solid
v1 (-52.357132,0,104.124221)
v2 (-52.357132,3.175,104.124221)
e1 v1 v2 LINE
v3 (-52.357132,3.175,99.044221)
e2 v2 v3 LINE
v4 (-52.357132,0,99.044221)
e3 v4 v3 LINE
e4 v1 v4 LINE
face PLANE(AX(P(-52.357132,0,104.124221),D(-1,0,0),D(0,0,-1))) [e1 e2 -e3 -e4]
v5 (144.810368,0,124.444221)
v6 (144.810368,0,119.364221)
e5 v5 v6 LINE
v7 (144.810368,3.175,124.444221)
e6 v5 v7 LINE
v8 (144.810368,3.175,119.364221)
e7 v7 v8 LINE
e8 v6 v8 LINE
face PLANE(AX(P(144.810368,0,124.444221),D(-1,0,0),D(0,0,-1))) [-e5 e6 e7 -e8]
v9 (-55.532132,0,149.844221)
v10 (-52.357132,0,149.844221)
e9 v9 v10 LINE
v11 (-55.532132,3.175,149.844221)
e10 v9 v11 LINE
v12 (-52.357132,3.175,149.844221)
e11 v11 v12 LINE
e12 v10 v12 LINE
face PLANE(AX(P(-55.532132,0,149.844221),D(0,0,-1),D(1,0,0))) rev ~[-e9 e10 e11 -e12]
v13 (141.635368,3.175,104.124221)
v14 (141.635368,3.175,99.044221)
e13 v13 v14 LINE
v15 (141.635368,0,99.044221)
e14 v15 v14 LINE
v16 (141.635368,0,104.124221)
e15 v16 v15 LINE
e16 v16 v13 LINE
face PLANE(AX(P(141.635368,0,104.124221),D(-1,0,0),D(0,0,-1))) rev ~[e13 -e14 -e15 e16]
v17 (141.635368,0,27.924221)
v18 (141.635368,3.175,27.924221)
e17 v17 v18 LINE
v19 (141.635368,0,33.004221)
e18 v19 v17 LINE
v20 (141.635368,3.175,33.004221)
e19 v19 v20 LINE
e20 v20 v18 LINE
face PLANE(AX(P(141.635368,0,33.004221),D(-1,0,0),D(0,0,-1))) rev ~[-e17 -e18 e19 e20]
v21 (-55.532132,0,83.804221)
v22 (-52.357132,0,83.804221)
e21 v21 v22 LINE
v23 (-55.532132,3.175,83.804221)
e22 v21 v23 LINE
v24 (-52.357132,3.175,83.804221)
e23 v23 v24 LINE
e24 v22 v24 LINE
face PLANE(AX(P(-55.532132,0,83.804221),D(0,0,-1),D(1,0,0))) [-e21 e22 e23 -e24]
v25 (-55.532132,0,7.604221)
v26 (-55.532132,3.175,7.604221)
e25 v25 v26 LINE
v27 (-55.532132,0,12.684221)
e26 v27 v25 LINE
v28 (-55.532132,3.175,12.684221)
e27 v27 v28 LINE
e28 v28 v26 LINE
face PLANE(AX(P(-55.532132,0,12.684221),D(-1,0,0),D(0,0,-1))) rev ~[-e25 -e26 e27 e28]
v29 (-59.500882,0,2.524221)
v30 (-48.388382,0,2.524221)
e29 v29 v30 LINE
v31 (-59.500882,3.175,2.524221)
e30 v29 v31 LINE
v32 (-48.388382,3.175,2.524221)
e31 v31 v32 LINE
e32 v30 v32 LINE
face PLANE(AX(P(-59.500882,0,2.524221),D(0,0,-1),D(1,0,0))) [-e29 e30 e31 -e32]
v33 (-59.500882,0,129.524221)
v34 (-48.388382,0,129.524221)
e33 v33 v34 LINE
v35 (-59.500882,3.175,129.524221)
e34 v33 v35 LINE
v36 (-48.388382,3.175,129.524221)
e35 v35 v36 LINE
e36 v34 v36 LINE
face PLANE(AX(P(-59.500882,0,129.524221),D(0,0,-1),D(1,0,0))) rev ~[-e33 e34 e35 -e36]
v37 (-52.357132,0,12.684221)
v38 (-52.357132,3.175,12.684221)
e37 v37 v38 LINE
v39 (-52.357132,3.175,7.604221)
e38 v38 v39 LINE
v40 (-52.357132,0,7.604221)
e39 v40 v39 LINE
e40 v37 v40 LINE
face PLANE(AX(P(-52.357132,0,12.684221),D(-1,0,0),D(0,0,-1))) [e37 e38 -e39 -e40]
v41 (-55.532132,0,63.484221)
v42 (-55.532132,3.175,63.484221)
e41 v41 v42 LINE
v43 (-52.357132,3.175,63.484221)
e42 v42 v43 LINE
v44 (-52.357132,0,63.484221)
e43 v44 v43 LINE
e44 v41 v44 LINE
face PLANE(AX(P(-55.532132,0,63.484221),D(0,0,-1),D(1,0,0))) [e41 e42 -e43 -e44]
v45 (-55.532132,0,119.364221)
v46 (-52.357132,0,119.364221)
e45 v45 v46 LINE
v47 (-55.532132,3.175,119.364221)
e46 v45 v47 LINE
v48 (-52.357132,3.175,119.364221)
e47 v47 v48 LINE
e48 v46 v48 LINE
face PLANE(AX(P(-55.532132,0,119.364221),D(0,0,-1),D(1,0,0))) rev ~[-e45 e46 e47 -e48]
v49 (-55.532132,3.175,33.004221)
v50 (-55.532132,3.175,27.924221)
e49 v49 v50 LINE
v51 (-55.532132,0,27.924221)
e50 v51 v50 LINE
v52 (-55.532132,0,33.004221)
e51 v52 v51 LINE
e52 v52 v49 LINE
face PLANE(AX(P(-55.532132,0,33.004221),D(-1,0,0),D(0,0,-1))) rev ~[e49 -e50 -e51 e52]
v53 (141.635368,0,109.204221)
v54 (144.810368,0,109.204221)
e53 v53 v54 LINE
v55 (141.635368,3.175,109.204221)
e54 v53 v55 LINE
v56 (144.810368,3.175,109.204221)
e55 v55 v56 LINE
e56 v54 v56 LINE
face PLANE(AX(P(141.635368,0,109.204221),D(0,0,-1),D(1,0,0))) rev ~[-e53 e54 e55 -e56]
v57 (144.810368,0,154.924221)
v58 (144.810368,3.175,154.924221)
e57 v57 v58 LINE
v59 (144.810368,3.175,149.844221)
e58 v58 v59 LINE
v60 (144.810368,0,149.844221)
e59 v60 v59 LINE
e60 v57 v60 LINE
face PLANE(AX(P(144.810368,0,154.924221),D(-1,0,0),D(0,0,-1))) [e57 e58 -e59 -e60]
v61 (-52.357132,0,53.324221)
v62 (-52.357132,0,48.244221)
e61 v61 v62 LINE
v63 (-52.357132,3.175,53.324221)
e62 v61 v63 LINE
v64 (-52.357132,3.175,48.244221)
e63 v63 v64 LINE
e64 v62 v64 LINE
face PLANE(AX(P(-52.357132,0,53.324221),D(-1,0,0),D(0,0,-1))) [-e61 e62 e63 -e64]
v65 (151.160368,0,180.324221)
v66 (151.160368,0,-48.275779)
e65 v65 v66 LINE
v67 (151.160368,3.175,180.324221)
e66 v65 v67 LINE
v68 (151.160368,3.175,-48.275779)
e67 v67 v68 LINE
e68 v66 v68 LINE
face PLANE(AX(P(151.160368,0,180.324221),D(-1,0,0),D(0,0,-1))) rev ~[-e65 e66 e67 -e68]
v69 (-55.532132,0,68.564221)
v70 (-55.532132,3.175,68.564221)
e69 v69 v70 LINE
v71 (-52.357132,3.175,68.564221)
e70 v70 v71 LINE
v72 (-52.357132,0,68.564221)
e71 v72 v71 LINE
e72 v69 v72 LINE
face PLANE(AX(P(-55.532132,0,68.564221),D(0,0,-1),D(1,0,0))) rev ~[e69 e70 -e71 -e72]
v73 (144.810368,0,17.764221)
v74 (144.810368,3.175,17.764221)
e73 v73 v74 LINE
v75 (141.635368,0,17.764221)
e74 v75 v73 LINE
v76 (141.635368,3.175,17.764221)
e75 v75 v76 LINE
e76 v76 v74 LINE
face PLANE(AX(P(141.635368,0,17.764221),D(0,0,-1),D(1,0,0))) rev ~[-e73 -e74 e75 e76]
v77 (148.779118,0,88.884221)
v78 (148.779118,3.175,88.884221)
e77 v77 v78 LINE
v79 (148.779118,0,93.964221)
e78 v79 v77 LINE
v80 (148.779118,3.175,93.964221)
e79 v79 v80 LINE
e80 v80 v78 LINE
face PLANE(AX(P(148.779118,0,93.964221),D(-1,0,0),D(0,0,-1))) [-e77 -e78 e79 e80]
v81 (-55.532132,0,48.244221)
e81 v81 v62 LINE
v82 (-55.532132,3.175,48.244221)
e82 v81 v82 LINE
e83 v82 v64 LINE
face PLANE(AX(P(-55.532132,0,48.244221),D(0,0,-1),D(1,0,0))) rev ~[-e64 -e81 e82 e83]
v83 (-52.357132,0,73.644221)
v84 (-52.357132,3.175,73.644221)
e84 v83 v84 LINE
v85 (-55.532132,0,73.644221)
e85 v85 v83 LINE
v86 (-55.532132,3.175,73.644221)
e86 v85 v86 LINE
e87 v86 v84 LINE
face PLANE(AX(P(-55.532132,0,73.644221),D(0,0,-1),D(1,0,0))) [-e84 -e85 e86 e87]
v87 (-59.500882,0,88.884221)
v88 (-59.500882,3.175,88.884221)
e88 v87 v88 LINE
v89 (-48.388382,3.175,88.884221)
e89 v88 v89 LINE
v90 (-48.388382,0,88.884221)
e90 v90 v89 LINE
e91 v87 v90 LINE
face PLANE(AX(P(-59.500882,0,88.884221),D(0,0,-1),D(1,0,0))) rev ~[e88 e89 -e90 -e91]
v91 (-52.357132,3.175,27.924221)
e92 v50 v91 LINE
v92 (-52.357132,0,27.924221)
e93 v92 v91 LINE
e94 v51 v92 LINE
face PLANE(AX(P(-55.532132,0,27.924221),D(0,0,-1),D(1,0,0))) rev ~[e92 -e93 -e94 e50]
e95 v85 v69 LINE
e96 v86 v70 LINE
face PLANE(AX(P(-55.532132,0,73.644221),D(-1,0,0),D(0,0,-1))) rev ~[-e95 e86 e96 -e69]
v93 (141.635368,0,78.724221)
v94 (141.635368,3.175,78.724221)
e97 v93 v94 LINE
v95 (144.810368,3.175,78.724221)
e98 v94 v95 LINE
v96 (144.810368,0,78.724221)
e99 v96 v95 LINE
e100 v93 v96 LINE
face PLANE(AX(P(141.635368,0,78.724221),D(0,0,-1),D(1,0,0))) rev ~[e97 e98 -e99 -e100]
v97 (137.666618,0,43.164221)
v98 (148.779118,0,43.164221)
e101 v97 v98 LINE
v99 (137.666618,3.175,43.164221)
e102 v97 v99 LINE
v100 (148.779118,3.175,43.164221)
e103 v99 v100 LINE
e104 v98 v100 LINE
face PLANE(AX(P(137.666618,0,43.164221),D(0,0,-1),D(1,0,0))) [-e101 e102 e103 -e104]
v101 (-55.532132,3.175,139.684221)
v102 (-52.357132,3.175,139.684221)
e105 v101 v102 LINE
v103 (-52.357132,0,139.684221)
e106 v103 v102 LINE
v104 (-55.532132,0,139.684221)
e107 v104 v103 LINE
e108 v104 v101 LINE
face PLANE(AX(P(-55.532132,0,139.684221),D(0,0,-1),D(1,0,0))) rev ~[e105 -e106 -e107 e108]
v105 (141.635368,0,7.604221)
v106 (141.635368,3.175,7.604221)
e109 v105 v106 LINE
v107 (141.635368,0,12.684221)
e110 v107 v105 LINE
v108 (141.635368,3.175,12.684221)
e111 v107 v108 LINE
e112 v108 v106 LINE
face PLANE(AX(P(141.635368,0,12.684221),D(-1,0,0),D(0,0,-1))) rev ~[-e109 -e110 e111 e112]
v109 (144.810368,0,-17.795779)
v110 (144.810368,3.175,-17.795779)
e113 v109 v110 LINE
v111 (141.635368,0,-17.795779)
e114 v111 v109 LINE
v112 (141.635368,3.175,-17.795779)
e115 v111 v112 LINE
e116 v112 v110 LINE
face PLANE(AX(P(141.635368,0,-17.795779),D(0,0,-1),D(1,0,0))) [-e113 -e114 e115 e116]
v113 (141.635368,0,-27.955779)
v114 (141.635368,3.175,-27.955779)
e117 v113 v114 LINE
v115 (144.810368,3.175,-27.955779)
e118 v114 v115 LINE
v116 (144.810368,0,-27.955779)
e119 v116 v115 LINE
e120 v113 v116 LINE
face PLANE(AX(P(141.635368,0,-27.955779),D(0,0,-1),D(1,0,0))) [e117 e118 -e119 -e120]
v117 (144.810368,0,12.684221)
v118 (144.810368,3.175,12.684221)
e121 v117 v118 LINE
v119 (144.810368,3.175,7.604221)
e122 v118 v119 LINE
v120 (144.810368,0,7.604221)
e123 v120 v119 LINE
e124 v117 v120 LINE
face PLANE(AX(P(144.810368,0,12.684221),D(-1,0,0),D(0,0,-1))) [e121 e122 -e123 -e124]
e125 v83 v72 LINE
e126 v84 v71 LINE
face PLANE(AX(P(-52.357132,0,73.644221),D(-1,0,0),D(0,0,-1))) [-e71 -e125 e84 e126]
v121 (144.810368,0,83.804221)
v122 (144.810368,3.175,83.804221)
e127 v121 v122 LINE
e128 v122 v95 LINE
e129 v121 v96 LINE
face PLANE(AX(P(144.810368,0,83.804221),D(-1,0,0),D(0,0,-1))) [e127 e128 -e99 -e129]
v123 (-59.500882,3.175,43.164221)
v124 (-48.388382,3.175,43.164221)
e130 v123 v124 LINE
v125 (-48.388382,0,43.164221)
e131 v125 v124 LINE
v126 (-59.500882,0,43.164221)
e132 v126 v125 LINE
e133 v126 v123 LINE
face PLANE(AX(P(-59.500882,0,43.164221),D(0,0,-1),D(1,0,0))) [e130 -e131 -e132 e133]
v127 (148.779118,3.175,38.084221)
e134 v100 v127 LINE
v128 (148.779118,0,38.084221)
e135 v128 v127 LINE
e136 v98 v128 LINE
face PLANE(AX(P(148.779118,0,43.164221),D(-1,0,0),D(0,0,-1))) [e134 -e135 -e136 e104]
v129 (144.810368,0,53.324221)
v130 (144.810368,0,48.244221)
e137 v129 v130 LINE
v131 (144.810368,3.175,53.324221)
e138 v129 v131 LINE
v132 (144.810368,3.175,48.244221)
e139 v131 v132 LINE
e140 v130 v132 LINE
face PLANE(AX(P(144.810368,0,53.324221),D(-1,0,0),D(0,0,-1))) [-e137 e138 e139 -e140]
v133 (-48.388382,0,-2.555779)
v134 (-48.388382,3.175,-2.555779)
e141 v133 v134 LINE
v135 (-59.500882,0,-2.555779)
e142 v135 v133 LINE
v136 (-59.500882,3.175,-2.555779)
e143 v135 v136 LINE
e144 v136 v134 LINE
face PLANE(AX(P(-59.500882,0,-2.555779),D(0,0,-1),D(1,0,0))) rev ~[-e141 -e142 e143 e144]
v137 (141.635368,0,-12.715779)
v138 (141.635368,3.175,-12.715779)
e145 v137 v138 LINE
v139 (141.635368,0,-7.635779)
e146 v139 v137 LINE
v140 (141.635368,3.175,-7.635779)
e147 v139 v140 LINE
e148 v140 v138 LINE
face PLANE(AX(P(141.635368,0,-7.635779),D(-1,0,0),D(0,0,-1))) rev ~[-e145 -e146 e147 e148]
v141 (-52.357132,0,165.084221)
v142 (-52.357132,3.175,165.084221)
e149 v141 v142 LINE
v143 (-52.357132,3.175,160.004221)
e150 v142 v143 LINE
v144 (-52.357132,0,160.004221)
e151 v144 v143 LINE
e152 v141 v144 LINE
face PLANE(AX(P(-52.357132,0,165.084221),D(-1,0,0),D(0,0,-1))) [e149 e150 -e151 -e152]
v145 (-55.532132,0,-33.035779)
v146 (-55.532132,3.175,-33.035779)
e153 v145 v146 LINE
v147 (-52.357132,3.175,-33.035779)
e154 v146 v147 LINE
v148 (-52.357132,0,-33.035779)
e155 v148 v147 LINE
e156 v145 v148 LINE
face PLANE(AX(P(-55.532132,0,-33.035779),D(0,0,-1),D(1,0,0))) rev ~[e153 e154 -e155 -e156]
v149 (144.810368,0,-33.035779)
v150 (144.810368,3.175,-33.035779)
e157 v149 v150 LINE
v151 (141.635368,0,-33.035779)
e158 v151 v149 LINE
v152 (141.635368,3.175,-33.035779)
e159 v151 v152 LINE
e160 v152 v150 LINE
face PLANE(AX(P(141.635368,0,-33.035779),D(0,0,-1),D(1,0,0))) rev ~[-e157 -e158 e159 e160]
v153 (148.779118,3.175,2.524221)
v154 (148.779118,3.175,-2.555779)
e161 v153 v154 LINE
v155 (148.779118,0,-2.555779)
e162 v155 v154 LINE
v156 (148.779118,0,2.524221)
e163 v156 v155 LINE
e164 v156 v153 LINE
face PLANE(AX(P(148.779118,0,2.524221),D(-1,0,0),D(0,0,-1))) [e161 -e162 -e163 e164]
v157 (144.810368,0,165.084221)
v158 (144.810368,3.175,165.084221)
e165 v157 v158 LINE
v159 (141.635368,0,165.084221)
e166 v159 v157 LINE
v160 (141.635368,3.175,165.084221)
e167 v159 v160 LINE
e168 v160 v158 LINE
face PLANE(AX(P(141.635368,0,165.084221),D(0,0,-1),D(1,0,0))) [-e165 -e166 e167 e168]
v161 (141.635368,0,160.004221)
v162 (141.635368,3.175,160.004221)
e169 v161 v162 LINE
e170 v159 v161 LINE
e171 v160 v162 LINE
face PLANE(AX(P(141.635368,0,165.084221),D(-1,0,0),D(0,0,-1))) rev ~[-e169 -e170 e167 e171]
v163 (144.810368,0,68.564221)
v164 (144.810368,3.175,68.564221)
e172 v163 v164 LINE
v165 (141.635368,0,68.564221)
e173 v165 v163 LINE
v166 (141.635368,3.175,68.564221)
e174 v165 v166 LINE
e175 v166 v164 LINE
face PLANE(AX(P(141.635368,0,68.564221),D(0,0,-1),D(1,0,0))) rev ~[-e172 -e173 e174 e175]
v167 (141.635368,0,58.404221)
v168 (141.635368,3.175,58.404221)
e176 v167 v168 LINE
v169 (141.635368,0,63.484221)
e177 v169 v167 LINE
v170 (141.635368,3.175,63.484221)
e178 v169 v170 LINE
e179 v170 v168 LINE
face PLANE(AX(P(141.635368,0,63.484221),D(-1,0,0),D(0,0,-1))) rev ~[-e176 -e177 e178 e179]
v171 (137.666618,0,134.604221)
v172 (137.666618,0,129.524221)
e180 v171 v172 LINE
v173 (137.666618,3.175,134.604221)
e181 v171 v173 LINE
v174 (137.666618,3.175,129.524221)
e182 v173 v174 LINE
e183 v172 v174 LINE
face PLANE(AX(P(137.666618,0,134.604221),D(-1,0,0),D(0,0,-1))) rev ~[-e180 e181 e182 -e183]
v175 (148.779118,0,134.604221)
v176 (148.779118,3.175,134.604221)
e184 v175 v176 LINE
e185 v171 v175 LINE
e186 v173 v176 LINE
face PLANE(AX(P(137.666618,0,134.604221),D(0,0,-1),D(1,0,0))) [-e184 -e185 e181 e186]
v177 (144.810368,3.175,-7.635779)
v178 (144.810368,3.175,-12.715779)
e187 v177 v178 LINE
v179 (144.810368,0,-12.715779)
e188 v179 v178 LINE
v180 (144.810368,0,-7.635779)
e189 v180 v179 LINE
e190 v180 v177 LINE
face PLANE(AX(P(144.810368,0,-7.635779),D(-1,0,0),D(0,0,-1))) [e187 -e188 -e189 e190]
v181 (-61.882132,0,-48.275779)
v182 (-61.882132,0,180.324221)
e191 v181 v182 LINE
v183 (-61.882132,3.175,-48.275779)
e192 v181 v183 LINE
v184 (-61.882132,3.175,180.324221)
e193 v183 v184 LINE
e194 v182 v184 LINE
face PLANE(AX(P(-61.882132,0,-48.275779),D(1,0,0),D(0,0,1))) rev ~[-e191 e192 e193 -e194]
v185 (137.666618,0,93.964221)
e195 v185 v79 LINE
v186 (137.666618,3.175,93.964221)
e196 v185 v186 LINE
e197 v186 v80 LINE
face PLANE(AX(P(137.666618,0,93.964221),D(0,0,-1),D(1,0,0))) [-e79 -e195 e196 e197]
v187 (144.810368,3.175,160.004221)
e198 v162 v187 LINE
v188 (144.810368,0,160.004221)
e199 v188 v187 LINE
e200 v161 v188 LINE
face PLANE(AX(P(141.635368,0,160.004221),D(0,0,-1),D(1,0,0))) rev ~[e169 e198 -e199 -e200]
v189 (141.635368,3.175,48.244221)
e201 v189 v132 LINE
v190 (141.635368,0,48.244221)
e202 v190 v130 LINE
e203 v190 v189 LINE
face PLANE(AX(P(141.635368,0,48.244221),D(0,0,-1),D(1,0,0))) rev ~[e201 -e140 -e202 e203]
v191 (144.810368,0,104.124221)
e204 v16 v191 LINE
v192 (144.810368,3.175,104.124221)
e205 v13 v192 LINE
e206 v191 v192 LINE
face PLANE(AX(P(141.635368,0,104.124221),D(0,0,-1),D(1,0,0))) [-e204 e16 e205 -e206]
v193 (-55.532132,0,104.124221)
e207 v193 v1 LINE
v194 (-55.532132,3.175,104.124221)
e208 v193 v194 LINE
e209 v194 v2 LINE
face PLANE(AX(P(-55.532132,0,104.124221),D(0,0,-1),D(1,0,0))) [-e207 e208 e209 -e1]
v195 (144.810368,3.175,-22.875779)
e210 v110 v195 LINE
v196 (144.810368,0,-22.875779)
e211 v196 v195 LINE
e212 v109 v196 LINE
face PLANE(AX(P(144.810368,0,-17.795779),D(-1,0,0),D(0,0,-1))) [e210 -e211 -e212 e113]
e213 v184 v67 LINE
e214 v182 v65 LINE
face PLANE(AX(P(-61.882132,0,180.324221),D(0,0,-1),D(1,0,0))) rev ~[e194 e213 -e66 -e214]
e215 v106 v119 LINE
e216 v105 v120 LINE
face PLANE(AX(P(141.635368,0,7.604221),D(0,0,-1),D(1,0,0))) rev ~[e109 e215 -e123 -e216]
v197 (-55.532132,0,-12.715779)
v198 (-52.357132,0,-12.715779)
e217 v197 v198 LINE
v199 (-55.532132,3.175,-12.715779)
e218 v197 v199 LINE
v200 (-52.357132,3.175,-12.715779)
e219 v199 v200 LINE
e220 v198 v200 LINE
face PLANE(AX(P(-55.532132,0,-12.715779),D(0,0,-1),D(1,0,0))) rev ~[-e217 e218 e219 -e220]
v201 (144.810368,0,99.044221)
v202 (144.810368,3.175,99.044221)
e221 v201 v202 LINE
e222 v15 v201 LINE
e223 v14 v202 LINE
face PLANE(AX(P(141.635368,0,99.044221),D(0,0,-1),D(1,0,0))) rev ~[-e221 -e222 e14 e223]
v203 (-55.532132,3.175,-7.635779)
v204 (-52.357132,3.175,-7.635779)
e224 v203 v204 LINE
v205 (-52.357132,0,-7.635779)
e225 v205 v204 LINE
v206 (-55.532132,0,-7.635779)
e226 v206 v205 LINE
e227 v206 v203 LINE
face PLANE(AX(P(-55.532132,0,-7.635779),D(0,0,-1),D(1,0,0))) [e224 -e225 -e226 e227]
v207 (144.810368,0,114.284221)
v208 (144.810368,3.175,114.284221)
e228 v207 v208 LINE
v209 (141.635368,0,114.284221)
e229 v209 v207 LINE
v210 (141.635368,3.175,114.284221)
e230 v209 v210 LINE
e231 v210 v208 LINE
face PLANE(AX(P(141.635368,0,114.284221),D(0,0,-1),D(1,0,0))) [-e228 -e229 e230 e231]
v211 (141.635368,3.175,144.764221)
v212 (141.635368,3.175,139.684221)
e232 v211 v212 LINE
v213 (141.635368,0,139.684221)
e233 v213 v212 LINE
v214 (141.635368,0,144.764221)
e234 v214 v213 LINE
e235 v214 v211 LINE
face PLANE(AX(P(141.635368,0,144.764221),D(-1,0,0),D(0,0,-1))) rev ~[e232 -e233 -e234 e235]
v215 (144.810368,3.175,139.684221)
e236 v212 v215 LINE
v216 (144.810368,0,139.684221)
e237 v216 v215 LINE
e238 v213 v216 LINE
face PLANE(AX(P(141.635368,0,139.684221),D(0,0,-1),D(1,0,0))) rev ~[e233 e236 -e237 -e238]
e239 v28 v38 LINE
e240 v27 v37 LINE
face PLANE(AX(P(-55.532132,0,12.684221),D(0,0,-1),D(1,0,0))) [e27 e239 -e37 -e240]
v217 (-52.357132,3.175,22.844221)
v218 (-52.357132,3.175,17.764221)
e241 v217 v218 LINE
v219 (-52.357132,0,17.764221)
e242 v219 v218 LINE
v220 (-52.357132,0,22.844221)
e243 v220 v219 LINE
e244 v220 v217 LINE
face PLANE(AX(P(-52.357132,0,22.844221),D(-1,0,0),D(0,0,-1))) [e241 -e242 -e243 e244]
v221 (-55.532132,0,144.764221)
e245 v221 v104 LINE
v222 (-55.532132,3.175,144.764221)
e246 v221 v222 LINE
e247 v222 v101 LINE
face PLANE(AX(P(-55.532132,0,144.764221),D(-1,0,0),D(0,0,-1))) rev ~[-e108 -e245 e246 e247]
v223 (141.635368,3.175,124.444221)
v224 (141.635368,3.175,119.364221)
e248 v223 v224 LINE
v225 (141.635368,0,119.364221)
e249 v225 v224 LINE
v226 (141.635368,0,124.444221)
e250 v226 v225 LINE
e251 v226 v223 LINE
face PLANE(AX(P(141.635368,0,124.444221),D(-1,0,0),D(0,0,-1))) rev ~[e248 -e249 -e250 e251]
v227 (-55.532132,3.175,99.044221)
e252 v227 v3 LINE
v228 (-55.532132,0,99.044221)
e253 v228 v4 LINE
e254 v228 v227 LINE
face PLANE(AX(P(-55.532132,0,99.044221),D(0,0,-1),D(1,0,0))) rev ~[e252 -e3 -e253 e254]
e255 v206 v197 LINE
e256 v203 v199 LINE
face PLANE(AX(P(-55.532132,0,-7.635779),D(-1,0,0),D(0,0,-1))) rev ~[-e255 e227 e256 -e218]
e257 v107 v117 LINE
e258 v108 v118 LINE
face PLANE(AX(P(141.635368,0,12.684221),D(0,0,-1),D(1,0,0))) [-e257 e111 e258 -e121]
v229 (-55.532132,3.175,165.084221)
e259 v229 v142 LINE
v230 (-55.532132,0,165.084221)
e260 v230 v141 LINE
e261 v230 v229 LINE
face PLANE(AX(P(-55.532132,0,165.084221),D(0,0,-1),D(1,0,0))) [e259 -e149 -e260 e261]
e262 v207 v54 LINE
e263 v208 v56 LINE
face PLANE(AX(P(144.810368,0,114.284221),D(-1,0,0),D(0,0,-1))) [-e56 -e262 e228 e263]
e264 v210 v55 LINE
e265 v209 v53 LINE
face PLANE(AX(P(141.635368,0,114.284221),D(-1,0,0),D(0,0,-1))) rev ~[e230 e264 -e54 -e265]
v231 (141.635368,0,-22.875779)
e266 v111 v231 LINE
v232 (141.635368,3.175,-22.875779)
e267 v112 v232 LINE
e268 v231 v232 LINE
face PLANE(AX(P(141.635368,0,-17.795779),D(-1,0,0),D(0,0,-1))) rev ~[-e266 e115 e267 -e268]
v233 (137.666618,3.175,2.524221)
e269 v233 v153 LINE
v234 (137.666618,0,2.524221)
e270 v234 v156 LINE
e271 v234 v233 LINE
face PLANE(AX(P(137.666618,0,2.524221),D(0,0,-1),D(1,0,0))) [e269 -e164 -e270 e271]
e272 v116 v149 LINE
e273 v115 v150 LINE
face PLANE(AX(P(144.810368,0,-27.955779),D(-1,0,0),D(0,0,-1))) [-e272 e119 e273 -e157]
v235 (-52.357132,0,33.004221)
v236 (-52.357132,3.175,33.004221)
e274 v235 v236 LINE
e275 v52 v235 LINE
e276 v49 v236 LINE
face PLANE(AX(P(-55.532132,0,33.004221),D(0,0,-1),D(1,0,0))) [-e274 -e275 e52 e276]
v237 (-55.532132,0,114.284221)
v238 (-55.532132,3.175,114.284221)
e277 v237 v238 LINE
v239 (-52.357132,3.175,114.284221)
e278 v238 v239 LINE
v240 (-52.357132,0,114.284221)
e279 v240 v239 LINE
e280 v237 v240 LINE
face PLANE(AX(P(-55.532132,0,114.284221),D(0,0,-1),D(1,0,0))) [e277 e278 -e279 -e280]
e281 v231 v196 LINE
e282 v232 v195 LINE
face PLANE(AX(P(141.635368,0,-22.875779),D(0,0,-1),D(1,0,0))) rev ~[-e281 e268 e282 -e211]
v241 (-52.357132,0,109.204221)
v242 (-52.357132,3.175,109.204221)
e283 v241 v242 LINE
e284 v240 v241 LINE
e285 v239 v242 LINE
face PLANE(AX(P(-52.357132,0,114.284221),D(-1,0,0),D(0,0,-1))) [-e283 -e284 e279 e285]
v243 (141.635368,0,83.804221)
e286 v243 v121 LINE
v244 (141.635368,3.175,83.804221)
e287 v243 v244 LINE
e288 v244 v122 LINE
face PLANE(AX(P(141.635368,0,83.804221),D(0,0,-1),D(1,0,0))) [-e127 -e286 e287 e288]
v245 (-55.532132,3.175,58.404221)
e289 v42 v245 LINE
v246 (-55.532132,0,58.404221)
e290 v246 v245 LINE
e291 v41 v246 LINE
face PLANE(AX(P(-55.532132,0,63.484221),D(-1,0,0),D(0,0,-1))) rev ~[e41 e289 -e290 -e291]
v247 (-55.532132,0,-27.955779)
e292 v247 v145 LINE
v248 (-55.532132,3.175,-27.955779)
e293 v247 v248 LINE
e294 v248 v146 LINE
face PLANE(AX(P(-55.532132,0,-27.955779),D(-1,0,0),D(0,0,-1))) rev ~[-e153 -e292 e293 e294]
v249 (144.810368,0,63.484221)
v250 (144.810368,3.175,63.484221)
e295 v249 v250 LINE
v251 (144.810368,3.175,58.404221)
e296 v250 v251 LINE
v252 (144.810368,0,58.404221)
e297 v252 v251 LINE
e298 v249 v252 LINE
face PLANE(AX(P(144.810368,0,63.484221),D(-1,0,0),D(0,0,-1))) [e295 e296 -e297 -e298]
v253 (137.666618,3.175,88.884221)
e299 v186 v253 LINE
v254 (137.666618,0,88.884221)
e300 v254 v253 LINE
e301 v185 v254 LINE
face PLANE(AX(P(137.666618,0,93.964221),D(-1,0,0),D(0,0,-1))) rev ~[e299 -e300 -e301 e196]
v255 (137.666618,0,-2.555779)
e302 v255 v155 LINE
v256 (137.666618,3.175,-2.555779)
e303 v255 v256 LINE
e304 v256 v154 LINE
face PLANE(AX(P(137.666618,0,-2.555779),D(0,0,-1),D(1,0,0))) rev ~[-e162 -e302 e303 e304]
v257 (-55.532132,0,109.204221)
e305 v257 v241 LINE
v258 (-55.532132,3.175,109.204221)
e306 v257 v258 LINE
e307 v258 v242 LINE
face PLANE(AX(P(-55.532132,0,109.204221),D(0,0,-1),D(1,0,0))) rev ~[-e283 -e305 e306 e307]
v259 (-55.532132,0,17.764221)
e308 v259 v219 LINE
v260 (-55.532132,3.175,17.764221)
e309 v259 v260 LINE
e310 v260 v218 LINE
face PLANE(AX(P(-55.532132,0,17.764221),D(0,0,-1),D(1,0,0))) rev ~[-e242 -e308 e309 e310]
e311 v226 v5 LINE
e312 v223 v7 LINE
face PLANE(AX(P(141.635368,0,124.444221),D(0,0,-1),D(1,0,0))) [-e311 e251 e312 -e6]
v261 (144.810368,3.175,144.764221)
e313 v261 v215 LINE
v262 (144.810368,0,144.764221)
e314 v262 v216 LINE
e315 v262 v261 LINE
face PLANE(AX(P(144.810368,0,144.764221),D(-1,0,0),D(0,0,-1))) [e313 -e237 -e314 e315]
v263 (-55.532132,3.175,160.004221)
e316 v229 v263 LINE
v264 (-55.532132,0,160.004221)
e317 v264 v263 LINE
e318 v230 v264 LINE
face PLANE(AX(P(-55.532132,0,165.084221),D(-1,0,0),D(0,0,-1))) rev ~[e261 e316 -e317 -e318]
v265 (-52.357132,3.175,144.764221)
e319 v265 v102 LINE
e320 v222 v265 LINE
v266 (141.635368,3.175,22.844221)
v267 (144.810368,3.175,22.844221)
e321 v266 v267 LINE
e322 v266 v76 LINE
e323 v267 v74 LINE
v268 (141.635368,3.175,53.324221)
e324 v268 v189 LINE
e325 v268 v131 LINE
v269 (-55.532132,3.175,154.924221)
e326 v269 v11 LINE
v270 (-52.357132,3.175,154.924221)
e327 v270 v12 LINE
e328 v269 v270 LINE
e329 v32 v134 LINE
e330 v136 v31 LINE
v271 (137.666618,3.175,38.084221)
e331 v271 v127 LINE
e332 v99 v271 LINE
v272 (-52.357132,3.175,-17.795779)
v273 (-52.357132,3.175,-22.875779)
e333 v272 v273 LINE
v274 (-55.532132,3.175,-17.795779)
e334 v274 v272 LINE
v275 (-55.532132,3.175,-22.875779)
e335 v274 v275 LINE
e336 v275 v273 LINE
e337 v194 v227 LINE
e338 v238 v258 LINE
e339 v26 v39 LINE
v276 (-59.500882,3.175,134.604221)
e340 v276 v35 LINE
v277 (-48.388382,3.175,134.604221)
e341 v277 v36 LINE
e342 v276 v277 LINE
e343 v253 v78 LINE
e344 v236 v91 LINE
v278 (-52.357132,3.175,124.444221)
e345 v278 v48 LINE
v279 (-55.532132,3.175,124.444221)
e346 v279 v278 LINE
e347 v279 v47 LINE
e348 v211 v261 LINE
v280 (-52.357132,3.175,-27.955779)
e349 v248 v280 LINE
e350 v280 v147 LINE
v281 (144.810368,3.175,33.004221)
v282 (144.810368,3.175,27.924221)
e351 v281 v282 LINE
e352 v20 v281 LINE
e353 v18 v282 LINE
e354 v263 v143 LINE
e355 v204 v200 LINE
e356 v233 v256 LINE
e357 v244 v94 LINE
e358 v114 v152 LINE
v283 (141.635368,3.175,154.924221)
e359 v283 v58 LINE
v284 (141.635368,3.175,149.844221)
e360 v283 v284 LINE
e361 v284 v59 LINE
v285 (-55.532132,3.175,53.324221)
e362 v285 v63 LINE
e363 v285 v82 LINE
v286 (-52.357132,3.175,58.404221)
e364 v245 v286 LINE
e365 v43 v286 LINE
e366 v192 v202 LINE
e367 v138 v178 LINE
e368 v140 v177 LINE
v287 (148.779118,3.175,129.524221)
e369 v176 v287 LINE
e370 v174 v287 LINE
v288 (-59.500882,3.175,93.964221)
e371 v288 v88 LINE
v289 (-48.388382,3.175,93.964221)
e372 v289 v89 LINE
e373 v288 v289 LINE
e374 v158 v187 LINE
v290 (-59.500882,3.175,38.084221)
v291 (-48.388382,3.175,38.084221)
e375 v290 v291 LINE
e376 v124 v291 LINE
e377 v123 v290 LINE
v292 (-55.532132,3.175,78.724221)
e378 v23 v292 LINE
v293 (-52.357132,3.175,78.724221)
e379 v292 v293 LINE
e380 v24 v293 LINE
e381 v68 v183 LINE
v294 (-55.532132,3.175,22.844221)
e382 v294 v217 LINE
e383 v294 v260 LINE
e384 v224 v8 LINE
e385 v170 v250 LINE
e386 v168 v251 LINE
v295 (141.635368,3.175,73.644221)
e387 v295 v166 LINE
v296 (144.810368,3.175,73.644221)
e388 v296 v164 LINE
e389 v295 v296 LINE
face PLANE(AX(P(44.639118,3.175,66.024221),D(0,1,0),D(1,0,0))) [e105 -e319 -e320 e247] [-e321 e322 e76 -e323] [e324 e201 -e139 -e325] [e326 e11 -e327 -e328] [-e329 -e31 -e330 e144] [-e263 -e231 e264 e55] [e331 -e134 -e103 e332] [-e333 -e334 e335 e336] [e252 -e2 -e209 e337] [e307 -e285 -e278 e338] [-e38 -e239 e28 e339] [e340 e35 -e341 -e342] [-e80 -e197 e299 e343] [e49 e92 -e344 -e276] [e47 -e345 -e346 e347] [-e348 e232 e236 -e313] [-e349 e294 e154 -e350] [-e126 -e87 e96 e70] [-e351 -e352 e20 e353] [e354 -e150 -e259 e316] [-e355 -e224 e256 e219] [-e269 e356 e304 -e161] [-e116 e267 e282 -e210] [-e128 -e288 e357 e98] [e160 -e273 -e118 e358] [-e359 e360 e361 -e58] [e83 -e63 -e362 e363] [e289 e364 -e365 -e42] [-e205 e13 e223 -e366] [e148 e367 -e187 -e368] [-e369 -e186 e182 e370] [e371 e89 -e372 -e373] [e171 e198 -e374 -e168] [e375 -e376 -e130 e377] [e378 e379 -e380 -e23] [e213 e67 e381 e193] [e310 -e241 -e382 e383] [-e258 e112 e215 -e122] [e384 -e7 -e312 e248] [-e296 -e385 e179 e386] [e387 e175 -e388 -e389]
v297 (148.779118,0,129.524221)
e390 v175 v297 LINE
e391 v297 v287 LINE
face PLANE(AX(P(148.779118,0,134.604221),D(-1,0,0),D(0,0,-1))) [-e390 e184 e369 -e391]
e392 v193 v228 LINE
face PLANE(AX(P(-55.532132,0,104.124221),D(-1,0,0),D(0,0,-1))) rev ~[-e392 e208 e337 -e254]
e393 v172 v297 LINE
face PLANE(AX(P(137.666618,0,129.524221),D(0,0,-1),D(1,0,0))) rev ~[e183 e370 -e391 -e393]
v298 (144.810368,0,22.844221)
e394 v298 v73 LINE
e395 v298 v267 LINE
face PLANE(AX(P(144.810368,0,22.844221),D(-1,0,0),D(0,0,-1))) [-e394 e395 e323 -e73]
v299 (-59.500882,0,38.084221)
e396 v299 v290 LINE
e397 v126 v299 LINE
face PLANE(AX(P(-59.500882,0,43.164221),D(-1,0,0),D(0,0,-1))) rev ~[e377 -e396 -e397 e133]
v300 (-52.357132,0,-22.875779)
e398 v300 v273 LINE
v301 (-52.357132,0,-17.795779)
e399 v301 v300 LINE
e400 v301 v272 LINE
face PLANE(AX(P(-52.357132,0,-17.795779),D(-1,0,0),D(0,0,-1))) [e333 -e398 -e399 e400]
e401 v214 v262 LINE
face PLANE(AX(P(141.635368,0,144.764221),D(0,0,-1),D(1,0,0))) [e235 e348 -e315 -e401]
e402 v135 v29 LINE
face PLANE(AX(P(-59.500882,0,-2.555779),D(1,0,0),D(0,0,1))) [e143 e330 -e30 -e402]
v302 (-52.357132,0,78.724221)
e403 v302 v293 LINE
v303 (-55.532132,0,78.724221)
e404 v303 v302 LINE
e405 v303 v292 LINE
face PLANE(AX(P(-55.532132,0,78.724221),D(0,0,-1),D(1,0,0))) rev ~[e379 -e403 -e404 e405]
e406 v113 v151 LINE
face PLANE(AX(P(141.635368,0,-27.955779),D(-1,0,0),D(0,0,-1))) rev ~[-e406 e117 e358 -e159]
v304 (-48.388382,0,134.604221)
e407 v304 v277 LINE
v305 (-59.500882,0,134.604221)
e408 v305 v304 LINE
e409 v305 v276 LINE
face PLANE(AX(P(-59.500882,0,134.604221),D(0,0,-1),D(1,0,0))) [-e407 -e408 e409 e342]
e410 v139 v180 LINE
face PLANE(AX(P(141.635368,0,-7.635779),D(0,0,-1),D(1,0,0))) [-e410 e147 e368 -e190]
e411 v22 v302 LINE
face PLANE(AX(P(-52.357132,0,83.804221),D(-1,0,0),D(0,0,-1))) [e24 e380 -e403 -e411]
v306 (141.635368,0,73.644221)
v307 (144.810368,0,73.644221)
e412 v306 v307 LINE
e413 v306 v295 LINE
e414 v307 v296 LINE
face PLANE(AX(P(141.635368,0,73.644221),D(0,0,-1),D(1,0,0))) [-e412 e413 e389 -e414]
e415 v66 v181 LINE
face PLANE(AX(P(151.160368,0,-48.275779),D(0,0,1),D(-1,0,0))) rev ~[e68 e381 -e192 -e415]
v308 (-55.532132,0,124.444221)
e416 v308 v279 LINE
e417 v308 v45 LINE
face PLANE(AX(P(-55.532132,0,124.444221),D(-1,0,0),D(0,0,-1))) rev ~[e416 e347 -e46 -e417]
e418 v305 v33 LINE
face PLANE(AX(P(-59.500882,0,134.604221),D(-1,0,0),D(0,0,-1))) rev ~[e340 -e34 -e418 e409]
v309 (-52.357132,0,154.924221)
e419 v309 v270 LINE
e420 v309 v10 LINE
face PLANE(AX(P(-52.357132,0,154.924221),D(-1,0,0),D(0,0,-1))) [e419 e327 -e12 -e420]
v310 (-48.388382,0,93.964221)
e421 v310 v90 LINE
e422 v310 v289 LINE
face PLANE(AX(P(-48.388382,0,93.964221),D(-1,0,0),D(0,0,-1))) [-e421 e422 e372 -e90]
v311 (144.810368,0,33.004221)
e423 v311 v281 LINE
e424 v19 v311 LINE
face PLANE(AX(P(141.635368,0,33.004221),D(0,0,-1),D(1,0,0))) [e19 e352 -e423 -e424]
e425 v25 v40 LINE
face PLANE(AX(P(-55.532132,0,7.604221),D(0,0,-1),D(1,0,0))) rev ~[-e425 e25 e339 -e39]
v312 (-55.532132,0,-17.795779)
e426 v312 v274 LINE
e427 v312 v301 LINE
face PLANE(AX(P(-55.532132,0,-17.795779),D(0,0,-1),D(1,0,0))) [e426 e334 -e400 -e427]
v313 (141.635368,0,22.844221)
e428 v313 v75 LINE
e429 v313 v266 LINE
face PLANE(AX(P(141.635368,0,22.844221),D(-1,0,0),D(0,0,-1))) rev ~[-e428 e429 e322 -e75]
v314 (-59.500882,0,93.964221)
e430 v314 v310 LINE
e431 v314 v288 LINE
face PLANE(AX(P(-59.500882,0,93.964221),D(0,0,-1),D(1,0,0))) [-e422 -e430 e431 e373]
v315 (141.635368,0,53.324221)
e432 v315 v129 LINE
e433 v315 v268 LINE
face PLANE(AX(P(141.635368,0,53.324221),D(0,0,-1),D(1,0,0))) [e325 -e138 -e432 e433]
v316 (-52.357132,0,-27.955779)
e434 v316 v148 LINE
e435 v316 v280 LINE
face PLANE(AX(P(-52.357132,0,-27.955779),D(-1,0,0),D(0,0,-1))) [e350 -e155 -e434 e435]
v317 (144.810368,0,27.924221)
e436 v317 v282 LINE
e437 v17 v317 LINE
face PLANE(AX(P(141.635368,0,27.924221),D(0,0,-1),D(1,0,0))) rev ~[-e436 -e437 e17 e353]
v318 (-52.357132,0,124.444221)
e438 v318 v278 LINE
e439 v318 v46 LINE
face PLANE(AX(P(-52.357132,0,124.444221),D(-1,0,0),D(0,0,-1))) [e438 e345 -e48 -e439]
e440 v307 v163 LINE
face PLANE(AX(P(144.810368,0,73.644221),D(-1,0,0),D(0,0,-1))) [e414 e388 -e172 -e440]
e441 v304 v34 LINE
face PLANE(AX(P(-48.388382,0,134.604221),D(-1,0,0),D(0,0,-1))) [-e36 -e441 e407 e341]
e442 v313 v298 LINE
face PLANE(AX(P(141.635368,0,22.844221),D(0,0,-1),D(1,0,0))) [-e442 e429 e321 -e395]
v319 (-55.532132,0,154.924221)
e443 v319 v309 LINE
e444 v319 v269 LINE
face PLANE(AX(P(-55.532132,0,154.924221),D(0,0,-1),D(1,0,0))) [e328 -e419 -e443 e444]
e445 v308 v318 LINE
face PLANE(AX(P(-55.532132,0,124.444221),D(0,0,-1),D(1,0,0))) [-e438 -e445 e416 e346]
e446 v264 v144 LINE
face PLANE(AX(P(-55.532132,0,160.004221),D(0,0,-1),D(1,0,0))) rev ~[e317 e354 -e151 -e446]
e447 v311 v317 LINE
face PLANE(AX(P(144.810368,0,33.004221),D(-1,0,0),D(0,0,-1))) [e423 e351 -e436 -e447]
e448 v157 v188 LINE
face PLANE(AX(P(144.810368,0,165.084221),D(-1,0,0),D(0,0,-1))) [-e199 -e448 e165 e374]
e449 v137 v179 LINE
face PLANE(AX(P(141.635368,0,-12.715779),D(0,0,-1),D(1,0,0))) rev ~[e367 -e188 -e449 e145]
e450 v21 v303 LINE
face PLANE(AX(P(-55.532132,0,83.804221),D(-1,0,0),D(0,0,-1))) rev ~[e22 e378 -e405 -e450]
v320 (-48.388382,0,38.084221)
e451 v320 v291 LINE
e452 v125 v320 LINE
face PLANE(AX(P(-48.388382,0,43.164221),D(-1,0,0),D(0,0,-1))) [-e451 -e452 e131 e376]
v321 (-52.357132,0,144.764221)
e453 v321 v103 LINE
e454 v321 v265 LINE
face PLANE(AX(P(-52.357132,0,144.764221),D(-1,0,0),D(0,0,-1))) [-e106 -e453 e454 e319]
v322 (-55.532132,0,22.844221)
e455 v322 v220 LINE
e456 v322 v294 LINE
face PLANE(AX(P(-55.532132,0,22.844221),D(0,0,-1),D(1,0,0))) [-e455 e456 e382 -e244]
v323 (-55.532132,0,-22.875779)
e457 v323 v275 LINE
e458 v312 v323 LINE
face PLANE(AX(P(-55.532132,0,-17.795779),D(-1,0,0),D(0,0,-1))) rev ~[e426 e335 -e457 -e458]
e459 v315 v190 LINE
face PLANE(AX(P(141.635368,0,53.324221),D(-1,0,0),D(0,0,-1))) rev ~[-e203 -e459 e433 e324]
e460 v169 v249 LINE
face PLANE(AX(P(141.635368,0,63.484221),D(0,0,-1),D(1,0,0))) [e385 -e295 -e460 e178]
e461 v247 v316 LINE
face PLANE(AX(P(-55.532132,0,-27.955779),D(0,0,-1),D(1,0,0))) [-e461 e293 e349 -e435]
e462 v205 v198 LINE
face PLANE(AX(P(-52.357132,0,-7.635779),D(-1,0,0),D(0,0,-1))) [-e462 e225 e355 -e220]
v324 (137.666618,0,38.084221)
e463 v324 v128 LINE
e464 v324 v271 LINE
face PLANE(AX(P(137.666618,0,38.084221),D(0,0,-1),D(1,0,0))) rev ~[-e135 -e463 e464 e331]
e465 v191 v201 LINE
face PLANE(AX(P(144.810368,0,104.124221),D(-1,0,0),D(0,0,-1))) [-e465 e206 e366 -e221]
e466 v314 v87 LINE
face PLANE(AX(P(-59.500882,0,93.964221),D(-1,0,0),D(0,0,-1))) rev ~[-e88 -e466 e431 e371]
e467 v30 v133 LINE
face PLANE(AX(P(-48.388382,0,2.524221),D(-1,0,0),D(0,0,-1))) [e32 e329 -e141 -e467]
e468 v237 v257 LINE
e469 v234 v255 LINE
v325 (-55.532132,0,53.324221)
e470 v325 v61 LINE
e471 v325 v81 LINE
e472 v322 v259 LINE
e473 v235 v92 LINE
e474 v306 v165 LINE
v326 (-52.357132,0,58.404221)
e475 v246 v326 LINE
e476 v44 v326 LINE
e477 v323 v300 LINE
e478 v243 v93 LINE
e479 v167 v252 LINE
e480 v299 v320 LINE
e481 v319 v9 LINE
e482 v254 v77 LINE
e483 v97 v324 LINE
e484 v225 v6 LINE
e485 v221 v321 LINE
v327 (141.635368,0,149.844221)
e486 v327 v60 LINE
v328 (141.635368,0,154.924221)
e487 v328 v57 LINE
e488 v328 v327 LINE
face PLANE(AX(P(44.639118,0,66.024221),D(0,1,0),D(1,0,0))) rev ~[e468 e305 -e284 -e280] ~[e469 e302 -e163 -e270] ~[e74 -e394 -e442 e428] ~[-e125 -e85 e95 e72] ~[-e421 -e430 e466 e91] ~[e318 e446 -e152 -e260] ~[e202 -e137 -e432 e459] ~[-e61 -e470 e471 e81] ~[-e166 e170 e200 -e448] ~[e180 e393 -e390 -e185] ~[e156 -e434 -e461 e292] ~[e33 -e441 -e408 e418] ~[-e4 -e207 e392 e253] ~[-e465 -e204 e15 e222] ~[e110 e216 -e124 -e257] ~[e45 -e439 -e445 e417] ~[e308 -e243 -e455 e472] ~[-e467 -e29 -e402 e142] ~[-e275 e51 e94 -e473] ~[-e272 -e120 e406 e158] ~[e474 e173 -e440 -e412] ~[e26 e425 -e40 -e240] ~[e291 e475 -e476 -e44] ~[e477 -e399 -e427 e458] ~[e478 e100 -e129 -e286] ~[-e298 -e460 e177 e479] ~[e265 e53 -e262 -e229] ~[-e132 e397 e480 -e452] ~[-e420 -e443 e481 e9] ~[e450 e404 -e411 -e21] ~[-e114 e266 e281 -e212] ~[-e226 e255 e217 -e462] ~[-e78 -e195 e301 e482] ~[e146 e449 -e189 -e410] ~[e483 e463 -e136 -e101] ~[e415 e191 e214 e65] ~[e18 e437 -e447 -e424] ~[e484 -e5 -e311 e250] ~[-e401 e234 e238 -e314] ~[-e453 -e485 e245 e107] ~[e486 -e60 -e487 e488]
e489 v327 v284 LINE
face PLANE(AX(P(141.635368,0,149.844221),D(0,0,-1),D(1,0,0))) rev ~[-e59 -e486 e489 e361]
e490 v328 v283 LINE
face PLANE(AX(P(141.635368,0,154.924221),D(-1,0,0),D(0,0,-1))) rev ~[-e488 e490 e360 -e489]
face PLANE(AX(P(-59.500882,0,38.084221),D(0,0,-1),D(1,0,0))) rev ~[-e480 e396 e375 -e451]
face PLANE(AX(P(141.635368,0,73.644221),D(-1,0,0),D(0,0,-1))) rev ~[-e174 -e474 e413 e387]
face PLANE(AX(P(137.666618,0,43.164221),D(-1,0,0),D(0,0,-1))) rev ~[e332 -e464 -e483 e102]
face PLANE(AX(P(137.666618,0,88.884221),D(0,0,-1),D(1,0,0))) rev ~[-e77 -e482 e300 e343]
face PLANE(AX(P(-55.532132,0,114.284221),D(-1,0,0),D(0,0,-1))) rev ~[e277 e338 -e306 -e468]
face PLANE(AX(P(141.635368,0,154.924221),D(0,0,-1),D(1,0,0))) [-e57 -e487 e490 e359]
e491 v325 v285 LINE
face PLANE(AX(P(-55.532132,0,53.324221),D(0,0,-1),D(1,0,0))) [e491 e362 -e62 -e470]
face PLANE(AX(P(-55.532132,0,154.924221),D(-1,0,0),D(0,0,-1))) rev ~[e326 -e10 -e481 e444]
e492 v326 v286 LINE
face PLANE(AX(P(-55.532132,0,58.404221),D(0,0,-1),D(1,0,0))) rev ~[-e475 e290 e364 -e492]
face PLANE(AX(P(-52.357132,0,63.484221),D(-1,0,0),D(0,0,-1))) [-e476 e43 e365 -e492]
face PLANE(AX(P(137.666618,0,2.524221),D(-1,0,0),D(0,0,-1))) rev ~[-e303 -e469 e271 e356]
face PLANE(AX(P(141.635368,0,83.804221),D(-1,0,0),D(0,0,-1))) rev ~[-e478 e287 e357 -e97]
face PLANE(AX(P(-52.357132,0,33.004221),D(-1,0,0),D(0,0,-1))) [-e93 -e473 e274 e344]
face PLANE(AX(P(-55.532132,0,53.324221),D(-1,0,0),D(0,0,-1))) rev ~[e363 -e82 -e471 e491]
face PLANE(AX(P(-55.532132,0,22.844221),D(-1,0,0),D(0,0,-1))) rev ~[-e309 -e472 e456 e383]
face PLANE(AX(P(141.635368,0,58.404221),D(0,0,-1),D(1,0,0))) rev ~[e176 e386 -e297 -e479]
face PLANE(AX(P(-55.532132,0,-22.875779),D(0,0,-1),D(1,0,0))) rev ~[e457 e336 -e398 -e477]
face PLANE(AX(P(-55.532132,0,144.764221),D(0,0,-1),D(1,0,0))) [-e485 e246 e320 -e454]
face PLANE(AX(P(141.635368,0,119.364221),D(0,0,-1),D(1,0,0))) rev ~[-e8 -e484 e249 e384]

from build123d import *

# Parameters (mm, degrees)
SKETCH2_W           = 3.175
SKETCH2_H           = 5.08
SKETCH2_W_2         = 11.1125
BOSS_EXTRUDE1_DEPTH = 3.175


with BuildPart() as part:
    # Sketch2 → Boss-Extrude1 (new body)
    with BuildSketch(Plane(origin=(0, 0, 0), x_dir=(1, 0, 0), z_dir=(0, 1, 0))):
        Polygon((-61.882132175, -180.324220965), (151.160367825, -180.324220965), (151.160367825, -134.604220965), (151.160367825, -129.524220965), (151.160367825, -93.964220965), (151.160367825, -88.884220965), (151.160367825, -43.164220965), (151.160367825, -38.084220965), (151.160367825, -2.524220965), (151.160367825, 2.555779035), (151.160367825, 48.275779035), (-61.882132175, 48.275779035), (-61.882132175, 2.555779035), (-61.882132175, -2.524220965), (-61.882132175, -38.084220965), (-61.882132175, -43.164220965), (-61.882132175, -93.964220965), (-61.882132175, -129.524220965), (-61.882132175, -134.604220965), align=None)
        with Locations((-53.944632175, -162.544220965)):
            Rectangle(SKETCH2_W, SKETCH2_H, mode=Mode.SUBTRACT)
        with Locations((143.222867825, -162.544220965)):
            Rectangle(SKETCH2_W, SKETCH2_H, mode=Mode.SUBTRACT)
        with Locations((-53.944632175, -152.384220965)):
            Rectangle(SKETCH2_W, SKETCH2_H, mode=Mode.SUBTRACT)
        with Locations((-53.944632175, -142.224220965)):
            Rectangle(SKETCH2_W, SKETCH2_H, mode=Mode.SUBTRACT)
        with Locations((-53.944632175, -121.904220965)):
            Rectangle(SKETCH2_W, SKETCH2_H, mode=Mode.SUBTRACT)
        with Locations((-53.944632175, -111.744220965)):
            Rectangle(SKETCH2_W, SKETCH2_H, mode=Mode.SUBTRACT)
        with Locations((-53.944632175, -101.584220965)):
            Rectangle(SKETCH2_W, SKETCH2_H, mode=Mode.SUBTRACT)
        with Locations((-53.944632175, -81.264220965)):
            Rectangle(SKETCH2_W, SKETCH2_H, mode=Mode.SUBTRACT)
        with Locations((-53.944632175, -71.104220965)):
            Rectangle(SKETCH2_W, SKETCH2_H, mode=Mode.SUBTRACT)
        with Locations((-53.944632175, -60.944220965)):
            Rectangle(SKETCH2_W, SKETCH2_H, mode=Mode.SUBTRACT)
        with Locations((-53.944632175, -50.784220965)):
            Rectangle(SKETCH2_W, SKETCH2_H, mode=Mode.SUBTRACT)
        with Locations((-53.944632175, -30.464220965)):
            Rectangle(SKETCH2_W, SKETCH2_H, mode=Mode.SUBTRACT)
        with Locations((-53.944632175, -20.304220965)):
            Rectangle(SKETCH2_W, SKETCH2_H, mode=Mode.SUBTRACT)
        with Locations((-53.944632175, -10.144220965)):
            Rectangle(SKETCH2_W, SKETCH2_H, mode=Mode.SUBTRACT)
        with Locations((-53.944632175, 10.175779035)):
            Rectangle(SKETCH2_W, SKETCH2_H, mode=Mode.SUBTRACT)
        with Locations((-53.944632175, 20.335779035)):
            Rectangle(SKETCH2_W, SKETCH2_H, mode=Mode.SUBTRACT)
        with Locations((-53.944632175, 30.495779035)):
            Rectangle(SKETCH2_W, SKETCH2_H, mode=Mode.SUBTRACT)
        with Locations((143.222867825, 30.495779035)):
            Rectangle(SKETCH2_W, SKETCH2_H, mode=Mode.SUBTRACT)
        with Locations((143.222867825, 20.335779035)):
            Rectangle(SKETCH2_W, SKETCH2_H, mode=Mode.SUBTRACT)
        with Locations((143.222867825, 10.175779035)):
            Rectangle(SKETCH2_W, SKETCH2_H, mode=Mode.SUBTRACT)
        with Locations((143.222867825, 0.015779035)):
            Rectangle(SKETCH2_W_2, SKETCH2_H, mode=Mode.SUBTRACT)
        with Locations((143.222867825, -10.144220965)):
            Rectangle(SKETCH2_W, SKETCH2_H, mode=Mode.SUBTRACT)
        with Locations((143.222867825, -20.304220965)):
            Rectangle(SKETCH2_W, SKETCH2_H, mode=Mode.SUBTRACT)
        with Locations((143.222867825, -30.464220965)):
            Rectangle(SKETCH2_W, SKETCH2_H, mode=Mode.SUBTRACT)
        with Locations((143.222867825, -40.624220965)):
            Rectangle(SKETCH2_W_2, SKETCH2_H, mode=Mode.SUBTRACT)
        with Locations((143.222867825, -91.424220965)):
            Rectangle(SKETCH2_W_2, SKETCH2_H, mode=Mode.SUBTRACT)
        with Locations((143.222867825, -132.064220965)):
            Rectangle(SKETCH2_W_2, SKETCH2_H, mode=Mode.SUBTRACT)
        with Locations((143.222867825, -50.784220965)):
            Rectangle(SKETCH2_W, SKETCH2_H, mode=Mode.SUBTRACT)
        with Locations((143.222867825, -60.944220965)):
            Rectangle(SKETCH2_W, SKETCH2_H, mode=Mode.SUBTRACT)
        with Locations((143.222867825, -71.104220965)):
            Rectangle(SKETCH2_W, SKETCH2_H, mode=Mode.SUBTRACT)
        with Locations((143.222867825, -81.264220965)):
            Rectangle(SKETCH2_W, SKETCH2_H, mode=Mode.SUBTRACT)
        with Locations((-53.944632175, -132.064220965)):
            Rectangle(SKETCH2_W_2, SKETCH2_H, mode=Mode.SUBTRACT)
        with Locations((-53.944632175, -91.424220965)):
            Rectangle(SKETCH2_W_2, SKETCH2_H, mode=Mode.SUBTRACT)
        with Locations((143.222867825, -101.584220965)):
            Rectangle(SKETCH2_W, SKETCH2_H, mode=Mode.SUBTRACT)
        with Locations((143.222867825, -111.744220965)):
            Rectangle(SKETCH2_W, SKETCH2_H, mode=Mode.SUBTRACT)
        with Locations((143.222867825, -121.904220965)):
            Rectangle(SKETCH2_W, SKETCH2_H, mode=Mode.SUBTRACT)
        with Locations((-53.944632175, -40.624220965)):
            Rectangle(SKETCH2_W_2, SKETCH2_H, mode=Mode.SUBTRACT)
        Polygon((-59.500882175, 2.555779035), (-59.500882175, -2.524220965), (-48.388382175, -2.524220965), (-48.388382175, 2.555779035), (-52.357132175, 2.555779035), (-55.532132175, 2.555779035), align=None, mode=Mode.SUBTRACT)
        with Locations((143.222867825, -142.224220965)):
            Rectangle(SKETCH2_W, SKETCH2_H, mode=Mode.SUBTRACT)
        with Locations((143.222867825, -152.384220965)):
            Rectangle(SKETCH2_W, SKETCH2_H, mode=Mode.SUBTRACT)
    extrude(amount=BOSS_EXTRUDE1_DEPTH)


solid = part.part
